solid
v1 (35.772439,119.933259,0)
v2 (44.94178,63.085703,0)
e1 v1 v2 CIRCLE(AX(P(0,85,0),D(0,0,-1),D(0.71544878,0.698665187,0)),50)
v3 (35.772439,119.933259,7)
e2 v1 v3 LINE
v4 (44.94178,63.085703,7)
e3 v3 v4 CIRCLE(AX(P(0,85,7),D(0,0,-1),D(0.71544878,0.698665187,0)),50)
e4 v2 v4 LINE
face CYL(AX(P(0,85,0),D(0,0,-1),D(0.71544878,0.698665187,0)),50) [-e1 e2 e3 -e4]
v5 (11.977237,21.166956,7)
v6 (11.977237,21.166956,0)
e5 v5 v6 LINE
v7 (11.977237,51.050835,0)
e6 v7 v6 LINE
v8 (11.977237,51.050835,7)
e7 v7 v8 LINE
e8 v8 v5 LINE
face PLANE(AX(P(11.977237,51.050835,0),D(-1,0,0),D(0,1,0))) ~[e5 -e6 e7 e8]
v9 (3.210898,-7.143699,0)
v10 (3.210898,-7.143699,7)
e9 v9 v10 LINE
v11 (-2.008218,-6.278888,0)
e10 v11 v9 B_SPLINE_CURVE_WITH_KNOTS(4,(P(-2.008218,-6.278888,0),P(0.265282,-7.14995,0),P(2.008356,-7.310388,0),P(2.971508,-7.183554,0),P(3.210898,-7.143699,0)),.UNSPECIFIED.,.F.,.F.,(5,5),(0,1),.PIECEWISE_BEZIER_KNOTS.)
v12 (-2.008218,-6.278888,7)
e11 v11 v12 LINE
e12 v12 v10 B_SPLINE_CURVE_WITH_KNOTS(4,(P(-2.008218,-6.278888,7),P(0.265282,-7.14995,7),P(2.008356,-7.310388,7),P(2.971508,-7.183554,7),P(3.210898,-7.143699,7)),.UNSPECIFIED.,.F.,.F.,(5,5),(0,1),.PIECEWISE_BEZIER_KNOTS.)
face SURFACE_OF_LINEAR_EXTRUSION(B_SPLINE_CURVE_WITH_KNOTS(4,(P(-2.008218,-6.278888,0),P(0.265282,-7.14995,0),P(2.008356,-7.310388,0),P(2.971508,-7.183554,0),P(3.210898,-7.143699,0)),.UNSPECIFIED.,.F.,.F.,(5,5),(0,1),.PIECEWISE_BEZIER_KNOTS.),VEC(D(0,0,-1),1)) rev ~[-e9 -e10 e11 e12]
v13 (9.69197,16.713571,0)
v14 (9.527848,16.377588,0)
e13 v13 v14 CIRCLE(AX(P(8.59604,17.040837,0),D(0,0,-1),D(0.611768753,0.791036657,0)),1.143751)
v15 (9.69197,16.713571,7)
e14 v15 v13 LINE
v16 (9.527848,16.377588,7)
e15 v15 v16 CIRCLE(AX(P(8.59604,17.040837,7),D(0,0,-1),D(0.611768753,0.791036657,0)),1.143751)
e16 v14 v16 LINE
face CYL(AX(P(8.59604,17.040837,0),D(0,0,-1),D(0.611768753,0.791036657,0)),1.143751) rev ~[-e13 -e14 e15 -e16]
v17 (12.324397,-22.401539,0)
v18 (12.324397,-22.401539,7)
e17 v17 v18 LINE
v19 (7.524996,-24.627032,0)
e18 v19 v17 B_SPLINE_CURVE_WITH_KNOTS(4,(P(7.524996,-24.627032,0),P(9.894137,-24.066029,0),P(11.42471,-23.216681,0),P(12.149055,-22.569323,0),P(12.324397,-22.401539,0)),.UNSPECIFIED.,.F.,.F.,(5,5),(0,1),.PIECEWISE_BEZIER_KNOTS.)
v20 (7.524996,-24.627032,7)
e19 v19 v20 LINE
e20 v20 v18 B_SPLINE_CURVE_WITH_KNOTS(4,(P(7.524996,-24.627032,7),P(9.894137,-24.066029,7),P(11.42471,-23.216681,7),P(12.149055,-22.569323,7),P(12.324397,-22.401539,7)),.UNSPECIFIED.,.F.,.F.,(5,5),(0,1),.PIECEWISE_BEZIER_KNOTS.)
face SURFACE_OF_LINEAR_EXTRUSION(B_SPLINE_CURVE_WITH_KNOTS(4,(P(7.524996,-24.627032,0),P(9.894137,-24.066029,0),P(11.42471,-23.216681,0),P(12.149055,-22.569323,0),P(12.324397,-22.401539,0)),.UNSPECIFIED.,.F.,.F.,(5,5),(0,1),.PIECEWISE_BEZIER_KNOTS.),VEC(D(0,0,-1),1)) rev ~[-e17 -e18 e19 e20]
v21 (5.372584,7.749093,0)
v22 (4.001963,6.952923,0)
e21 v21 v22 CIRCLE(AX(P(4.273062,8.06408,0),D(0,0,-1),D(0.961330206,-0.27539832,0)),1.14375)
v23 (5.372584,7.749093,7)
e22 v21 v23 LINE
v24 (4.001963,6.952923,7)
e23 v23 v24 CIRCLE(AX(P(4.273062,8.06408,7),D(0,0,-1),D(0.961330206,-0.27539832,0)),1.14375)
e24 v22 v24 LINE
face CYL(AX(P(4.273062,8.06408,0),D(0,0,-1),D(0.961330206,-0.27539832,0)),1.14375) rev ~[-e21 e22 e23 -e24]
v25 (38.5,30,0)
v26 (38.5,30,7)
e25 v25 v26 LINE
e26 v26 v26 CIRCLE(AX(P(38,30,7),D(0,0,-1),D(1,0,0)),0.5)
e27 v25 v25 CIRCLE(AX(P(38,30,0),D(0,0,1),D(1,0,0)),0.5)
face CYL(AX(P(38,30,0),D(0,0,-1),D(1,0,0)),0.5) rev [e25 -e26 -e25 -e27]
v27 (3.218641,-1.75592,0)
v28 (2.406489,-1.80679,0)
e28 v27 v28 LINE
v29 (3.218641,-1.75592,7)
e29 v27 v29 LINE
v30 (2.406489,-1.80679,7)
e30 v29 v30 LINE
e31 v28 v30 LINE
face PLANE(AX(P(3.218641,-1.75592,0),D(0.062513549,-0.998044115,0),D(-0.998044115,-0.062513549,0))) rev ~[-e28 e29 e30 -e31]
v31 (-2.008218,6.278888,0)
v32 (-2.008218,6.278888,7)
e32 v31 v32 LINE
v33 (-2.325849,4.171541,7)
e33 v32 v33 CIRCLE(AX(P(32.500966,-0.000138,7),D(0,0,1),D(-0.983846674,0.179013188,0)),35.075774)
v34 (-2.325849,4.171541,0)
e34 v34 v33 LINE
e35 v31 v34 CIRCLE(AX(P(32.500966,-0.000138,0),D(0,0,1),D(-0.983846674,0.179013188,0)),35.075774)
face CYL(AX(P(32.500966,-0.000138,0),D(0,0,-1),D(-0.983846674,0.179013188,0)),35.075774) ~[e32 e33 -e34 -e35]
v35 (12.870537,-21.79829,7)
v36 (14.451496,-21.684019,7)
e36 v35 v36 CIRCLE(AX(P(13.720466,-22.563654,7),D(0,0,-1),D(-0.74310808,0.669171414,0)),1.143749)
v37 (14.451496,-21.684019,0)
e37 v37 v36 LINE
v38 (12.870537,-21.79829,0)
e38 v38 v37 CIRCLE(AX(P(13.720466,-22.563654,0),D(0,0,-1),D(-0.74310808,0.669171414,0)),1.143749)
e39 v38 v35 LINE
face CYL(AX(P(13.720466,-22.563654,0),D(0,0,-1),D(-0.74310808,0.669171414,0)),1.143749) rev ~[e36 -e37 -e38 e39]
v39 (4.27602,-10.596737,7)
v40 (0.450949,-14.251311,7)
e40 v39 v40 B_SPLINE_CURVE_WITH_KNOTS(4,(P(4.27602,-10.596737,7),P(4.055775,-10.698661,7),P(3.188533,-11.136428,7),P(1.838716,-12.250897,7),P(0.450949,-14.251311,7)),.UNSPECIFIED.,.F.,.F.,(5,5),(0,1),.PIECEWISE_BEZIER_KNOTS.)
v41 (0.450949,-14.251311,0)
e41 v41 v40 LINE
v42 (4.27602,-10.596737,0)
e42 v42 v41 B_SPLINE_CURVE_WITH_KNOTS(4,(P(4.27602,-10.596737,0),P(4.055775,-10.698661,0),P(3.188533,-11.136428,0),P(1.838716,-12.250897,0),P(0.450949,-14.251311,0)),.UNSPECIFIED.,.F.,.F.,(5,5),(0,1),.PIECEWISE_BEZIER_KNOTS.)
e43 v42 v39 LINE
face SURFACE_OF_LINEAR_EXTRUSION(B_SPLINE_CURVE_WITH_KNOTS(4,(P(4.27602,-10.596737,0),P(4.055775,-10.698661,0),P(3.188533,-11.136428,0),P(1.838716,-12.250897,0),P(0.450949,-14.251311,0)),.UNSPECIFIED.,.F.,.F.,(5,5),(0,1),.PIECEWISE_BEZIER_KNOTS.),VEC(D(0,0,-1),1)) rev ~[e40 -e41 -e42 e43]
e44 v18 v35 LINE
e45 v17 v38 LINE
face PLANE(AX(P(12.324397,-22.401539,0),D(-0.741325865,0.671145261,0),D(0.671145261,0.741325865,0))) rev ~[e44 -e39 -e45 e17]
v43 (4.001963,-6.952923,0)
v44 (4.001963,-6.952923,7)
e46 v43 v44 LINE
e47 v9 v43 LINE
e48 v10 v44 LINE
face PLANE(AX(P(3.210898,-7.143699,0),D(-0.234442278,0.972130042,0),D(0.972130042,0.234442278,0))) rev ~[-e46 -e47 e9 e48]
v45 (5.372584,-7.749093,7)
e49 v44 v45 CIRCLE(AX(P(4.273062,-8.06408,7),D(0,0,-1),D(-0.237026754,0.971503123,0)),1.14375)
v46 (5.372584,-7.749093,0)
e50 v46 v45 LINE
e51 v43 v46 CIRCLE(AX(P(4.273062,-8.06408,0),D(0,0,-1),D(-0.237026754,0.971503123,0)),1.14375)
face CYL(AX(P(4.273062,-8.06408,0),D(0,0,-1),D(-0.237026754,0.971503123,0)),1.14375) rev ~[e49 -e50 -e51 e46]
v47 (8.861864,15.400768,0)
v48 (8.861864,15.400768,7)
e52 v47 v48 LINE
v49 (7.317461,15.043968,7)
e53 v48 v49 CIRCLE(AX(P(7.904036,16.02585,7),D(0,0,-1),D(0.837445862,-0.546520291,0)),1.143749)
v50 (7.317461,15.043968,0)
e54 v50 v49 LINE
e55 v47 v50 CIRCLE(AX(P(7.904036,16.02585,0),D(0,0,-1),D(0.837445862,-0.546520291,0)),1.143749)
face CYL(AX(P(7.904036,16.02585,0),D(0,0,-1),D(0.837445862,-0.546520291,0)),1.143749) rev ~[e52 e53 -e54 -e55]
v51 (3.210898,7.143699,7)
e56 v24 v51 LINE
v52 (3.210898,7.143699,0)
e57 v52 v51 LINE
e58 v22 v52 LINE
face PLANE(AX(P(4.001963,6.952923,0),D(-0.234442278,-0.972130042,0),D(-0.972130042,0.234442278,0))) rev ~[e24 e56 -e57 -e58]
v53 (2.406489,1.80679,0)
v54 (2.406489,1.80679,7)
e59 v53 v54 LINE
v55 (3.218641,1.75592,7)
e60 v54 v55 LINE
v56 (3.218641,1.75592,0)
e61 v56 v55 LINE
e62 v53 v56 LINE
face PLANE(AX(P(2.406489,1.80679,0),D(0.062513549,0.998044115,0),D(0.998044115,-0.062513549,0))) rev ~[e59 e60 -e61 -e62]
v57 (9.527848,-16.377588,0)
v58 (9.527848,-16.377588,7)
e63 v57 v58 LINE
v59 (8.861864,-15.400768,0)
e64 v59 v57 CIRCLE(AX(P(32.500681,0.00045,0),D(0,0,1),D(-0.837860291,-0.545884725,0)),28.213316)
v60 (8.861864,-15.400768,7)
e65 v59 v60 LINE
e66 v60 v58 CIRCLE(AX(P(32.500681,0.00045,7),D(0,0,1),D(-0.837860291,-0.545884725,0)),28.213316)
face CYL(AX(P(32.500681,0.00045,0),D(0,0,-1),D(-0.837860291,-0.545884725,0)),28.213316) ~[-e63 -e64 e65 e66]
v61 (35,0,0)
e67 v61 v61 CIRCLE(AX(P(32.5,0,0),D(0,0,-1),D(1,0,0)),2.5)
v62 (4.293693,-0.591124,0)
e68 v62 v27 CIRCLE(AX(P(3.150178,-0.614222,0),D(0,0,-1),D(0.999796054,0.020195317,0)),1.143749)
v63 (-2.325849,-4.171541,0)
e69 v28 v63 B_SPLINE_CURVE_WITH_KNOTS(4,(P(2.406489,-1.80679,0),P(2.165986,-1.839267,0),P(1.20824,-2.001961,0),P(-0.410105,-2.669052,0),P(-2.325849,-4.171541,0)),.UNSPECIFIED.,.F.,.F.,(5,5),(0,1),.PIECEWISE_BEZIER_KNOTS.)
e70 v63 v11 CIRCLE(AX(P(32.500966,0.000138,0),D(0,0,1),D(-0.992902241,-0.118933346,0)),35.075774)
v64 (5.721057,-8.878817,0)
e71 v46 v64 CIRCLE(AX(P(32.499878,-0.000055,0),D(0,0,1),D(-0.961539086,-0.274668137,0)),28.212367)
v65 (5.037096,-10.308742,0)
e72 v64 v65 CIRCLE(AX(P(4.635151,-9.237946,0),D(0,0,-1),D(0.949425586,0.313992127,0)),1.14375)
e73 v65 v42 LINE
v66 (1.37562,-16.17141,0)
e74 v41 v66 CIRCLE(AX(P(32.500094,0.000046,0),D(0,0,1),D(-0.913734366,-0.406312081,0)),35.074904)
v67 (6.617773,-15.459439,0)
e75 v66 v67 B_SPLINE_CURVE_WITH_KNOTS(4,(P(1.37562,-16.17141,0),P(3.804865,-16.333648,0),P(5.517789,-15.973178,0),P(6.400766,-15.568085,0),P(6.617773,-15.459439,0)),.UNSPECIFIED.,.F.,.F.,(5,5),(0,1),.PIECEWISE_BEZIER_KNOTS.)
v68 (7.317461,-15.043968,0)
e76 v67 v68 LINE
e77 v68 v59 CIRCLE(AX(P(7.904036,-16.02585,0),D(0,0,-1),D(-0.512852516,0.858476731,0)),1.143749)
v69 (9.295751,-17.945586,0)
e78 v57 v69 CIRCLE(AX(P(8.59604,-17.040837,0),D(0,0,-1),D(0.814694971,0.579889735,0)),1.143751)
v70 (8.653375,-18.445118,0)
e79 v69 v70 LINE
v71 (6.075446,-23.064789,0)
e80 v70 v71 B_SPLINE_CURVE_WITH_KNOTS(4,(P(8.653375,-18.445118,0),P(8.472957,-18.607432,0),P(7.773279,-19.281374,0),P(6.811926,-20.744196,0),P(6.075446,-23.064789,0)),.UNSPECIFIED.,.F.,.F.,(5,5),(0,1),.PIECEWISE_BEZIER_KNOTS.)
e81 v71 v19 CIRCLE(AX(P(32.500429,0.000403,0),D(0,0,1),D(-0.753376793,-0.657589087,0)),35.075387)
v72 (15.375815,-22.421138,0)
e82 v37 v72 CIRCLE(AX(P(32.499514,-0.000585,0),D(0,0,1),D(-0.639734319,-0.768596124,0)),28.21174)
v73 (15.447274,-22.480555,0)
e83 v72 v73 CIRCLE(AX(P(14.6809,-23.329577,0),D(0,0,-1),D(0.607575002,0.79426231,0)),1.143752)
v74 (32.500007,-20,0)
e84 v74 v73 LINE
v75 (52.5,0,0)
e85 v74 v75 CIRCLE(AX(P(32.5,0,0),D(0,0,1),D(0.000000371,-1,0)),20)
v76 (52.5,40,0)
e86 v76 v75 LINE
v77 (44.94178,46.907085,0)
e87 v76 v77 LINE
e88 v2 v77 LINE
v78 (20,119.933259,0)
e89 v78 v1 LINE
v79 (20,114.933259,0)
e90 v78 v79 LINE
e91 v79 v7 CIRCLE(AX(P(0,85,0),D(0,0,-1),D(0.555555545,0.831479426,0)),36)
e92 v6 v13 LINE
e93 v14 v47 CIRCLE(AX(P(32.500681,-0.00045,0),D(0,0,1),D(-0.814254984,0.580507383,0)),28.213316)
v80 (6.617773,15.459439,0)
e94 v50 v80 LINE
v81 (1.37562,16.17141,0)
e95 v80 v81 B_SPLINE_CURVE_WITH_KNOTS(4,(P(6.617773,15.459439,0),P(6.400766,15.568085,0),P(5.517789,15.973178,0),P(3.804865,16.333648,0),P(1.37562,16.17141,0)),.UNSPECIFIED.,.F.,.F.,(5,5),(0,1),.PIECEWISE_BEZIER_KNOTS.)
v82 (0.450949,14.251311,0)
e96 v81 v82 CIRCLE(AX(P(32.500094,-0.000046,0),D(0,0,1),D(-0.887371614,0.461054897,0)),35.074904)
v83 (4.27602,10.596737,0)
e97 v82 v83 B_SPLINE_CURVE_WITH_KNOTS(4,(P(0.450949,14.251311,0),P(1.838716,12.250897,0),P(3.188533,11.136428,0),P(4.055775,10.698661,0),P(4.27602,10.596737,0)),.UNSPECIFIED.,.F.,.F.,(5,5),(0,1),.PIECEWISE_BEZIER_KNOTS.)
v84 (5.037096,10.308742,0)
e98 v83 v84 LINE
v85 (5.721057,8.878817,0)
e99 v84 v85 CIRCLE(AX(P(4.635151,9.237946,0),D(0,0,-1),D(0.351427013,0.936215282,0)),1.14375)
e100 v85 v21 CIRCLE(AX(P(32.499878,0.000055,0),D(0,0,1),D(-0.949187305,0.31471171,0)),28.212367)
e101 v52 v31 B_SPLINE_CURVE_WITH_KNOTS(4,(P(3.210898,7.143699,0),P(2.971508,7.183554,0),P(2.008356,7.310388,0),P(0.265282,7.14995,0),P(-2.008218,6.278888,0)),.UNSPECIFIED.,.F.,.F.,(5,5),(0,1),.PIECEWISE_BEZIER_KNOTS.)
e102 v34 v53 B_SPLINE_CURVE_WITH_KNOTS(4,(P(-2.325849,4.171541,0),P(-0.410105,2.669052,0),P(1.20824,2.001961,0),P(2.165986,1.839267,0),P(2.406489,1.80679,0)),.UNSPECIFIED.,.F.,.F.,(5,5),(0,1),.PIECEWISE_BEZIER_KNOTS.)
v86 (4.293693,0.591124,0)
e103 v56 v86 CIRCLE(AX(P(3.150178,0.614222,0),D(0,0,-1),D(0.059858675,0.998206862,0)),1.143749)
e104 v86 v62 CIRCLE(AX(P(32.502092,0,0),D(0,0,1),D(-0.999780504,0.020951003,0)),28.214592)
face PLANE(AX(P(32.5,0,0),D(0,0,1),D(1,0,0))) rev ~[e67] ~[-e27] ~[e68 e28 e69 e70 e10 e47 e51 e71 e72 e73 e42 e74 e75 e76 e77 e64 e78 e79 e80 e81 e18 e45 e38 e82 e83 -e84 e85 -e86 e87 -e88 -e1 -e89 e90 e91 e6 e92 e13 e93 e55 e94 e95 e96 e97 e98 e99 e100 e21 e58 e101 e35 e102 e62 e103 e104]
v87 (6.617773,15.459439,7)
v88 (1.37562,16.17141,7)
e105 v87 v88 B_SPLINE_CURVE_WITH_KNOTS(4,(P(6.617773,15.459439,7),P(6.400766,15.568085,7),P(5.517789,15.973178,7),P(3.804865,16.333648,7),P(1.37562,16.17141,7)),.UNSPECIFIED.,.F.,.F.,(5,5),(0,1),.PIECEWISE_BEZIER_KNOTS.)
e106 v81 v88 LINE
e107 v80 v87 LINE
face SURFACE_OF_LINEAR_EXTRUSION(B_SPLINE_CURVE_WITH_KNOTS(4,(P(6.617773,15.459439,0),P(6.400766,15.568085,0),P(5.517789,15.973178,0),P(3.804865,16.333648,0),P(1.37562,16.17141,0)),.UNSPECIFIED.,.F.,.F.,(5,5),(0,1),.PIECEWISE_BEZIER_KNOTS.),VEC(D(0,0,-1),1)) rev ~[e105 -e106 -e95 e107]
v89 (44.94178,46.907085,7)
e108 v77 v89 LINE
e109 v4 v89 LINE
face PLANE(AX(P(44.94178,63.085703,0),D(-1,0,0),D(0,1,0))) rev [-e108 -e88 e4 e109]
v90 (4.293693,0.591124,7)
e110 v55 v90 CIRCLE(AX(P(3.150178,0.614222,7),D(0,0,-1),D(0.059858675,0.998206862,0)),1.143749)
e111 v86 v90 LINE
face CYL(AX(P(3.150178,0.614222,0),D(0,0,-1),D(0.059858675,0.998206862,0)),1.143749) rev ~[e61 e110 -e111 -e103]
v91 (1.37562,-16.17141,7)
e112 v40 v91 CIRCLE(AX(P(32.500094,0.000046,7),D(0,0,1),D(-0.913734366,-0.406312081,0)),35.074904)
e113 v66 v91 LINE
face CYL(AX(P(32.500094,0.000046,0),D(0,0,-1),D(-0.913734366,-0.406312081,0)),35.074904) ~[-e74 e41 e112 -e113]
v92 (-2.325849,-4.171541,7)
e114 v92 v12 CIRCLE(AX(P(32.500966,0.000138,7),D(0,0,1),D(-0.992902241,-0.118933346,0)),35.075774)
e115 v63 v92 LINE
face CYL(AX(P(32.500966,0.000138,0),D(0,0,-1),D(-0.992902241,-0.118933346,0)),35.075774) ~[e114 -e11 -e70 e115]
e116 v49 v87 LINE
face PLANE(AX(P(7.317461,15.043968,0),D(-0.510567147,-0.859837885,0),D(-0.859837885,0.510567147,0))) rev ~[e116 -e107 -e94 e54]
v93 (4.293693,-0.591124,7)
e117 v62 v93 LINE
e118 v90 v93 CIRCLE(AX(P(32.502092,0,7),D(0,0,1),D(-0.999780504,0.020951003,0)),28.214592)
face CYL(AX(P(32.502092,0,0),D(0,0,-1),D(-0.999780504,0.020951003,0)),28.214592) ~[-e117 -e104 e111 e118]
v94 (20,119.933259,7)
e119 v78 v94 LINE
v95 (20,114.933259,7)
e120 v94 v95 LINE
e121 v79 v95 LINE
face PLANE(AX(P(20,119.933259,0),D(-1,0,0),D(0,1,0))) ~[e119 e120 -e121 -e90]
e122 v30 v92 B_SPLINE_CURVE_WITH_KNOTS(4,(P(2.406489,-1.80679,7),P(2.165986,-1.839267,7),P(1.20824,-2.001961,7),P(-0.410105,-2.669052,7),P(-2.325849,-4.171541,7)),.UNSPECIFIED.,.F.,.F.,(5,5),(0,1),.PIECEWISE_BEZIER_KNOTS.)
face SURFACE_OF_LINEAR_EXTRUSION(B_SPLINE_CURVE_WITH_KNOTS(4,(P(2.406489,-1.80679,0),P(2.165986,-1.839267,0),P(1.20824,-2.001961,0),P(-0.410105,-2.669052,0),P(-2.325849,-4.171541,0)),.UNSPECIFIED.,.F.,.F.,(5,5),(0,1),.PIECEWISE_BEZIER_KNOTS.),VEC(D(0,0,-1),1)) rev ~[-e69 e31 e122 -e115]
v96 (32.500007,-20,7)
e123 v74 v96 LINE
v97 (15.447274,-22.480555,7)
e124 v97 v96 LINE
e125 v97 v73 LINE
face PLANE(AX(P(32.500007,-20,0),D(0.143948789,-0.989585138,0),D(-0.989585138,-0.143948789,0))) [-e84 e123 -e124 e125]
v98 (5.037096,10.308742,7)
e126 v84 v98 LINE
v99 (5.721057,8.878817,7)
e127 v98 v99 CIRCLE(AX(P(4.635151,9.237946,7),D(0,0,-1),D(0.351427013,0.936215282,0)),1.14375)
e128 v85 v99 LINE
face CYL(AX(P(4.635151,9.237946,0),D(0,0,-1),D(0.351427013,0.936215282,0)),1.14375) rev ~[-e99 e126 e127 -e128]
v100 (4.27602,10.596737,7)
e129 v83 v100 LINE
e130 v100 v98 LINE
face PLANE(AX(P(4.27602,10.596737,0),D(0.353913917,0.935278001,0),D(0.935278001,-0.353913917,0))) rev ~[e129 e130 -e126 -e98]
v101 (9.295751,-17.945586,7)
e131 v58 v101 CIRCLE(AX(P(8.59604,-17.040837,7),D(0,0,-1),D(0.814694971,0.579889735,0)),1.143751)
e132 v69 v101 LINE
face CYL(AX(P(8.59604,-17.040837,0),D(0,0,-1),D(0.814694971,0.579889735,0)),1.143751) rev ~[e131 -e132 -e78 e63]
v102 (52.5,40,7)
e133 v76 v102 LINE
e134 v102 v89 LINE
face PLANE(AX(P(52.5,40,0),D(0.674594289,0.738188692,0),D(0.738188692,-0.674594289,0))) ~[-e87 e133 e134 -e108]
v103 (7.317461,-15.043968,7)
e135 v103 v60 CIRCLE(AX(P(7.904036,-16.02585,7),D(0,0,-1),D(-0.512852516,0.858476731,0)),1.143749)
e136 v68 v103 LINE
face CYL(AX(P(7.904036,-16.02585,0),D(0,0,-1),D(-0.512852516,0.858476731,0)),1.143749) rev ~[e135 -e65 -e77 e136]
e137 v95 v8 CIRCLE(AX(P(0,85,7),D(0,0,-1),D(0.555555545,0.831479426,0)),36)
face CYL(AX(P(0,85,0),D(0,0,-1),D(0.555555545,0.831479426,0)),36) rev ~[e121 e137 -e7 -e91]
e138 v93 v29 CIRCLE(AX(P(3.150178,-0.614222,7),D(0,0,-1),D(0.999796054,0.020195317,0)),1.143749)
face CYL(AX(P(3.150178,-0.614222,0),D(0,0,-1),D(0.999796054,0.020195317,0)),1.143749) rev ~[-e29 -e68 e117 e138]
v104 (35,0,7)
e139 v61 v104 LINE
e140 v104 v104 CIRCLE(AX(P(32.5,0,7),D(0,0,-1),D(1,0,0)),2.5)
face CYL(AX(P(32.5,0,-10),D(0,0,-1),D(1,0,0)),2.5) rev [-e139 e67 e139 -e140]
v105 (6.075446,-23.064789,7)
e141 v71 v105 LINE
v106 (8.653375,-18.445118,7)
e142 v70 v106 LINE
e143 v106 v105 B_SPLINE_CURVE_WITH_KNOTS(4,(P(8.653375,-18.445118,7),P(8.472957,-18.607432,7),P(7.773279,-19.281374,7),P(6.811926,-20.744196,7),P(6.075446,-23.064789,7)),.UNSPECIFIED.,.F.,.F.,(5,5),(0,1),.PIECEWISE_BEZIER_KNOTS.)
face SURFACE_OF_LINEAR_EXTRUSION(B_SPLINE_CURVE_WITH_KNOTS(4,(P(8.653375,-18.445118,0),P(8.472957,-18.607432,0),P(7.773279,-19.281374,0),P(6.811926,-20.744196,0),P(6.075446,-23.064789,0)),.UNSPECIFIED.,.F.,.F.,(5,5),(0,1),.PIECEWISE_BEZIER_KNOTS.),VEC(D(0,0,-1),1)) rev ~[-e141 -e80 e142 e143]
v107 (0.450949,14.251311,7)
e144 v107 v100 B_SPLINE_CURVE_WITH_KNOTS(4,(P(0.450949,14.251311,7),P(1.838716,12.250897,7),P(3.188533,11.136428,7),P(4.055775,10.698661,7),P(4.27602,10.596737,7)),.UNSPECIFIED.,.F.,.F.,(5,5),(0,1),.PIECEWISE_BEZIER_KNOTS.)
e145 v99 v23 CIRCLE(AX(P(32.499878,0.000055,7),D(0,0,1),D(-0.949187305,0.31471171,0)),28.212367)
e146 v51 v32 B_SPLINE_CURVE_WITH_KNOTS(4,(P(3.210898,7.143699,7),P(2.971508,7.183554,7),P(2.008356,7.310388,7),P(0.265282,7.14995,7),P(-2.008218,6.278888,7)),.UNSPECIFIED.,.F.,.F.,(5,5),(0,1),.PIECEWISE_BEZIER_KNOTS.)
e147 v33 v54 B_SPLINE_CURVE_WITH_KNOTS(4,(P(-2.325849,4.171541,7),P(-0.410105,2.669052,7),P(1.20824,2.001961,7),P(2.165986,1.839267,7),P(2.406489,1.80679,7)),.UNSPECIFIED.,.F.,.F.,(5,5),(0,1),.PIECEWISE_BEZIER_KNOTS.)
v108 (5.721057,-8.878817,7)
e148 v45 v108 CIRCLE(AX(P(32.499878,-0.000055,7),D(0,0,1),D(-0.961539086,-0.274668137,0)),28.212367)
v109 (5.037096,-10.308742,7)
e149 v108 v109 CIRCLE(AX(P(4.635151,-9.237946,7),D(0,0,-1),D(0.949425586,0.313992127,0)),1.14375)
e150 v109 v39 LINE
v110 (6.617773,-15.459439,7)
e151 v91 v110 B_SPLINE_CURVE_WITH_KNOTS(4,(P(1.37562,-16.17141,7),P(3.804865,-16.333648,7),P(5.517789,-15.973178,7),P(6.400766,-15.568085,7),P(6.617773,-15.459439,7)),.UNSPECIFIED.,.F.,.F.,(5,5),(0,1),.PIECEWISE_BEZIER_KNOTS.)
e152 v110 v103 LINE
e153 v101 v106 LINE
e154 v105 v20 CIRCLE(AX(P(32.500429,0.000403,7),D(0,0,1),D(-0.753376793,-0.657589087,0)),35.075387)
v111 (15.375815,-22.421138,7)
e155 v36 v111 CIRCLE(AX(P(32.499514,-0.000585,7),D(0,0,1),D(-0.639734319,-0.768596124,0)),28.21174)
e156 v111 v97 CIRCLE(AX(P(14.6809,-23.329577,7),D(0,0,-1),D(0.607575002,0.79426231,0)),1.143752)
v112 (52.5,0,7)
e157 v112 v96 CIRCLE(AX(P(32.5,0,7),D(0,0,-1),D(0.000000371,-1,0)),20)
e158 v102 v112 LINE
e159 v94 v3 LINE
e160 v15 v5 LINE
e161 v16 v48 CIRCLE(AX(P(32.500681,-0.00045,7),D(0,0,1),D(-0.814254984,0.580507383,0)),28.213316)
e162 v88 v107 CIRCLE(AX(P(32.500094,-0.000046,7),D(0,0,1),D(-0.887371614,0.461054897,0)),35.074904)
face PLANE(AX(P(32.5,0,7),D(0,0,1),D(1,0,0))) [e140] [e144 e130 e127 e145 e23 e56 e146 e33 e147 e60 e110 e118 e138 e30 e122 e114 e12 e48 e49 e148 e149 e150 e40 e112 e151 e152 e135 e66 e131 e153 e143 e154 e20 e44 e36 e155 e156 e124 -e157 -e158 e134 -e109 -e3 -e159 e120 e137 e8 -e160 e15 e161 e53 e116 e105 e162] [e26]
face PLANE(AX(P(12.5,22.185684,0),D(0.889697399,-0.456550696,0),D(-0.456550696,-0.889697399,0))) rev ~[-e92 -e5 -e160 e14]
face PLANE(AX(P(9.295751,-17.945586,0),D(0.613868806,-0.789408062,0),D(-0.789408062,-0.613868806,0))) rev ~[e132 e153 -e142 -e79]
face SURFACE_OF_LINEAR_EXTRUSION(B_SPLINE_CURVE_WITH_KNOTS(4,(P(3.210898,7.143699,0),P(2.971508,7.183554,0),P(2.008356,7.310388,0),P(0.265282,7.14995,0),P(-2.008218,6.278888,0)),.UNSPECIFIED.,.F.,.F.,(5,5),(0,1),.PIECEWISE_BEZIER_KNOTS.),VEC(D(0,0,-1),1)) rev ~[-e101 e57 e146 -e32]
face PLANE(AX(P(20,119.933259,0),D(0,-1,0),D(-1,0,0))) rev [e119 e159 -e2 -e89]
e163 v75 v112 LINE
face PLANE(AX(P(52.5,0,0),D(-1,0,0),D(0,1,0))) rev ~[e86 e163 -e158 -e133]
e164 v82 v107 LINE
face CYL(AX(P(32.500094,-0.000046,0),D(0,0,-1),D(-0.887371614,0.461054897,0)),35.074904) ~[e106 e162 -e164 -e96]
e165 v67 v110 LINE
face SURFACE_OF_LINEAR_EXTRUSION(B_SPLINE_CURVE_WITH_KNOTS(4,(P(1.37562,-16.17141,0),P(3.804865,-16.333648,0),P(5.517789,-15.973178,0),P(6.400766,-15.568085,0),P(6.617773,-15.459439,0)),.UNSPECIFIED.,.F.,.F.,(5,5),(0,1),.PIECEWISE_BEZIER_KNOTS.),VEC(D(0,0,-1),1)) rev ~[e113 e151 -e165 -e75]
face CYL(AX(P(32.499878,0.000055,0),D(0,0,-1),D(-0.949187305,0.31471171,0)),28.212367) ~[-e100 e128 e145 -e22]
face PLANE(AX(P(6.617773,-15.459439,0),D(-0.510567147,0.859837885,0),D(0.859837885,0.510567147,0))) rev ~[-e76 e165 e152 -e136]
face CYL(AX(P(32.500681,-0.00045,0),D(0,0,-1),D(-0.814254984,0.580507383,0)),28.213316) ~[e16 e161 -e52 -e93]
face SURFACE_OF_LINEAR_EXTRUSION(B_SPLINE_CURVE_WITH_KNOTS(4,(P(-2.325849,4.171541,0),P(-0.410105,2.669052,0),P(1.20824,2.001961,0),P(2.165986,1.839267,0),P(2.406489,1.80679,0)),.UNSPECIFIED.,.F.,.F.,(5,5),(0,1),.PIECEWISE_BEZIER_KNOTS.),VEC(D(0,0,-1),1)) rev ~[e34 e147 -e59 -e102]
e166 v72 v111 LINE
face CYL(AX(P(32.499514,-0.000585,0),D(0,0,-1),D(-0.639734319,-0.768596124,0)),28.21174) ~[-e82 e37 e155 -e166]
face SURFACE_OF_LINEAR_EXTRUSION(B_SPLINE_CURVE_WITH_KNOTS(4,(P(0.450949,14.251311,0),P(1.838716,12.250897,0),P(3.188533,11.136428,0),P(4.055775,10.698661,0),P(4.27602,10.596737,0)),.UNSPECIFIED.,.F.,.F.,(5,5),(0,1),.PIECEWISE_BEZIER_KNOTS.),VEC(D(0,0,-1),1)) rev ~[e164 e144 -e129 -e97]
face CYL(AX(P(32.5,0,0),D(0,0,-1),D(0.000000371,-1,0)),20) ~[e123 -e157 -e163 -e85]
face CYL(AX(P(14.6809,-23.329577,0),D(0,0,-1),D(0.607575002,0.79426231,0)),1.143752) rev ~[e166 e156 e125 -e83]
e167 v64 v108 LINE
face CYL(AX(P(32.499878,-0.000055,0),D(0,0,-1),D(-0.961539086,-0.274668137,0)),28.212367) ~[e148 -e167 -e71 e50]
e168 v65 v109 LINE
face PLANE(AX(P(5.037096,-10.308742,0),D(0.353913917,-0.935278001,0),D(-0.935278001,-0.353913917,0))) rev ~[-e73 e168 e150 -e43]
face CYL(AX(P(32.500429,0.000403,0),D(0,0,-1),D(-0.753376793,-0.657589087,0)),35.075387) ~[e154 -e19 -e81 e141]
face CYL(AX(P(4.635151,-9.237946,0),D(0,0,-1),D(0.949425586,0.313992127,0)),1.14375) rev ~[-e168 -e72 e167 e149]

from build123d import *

# Parameters (mm, degrees)
CYLINDER002_R     = 0.5
CYLINDER002_DEPTH = 15
PAD005_DEPTH      = 10
CYLINDER001_R     = 2.5
CYLINDER001_DEPTH = 30
PAD_DEPTH         = 7
PAD001_DEPTH      = 7


with BuildPart() as fixation_servo:
    # Cylinder002 → Cylinder002 (new body)
    with BuildSketch(Plane(origin=(38, 30, 0), x_dir=(1, 0, 0), z_dir=(0, 0, 1))):
        Circle(CYLINDER002_R)
    extrude(amount=CYLINDER002_DEPTH)


with BuildPart() as gearcutter_d:
    # Sketch007 → Pad005 (new body)
    with BuildSketch(Plane.XY):
        with BuildLine():
            Line((20, 31.95888), (45.304215, 31.95888))
            Line((45.304215, 31.95888), (45.304215, -33.652056))
            Line((45.304215, -33.652056), (23.213182, -33.652056))
            Line((-17.372387, -39.01239), (23.213182, -33.652056))
            Line((-25.984375, -33.578197), (-17.372387, -39.01239))
            Line((-17.23691, -22.507347), (-25.984375, -33.578197))
            Line((7e-06, -20), (-17.23691, -22.507347))
            ThreePointArc((7e-06, -20), (14.142138, -14.142133), (20, 0))
            Line((20, 0), (20, 31.95888))
        make_face()
        Polygon((-20, 22.185684), (-22.978563, 16.381247), (-30, 23.81991), (-24.00174, 30), align=None)
    extrude(amount=PAD005_DEPTH)


with BuildPart() as hole:
    # Cylinder001 → Cylinder001 (new body)
    with BuildSketch(Plane.XY.offset(-10)):
        Circle(CYLINDER001_R)
    extrude(amount=CYLINDER001_DEPTH)


with BuildPart() as cut002:
    # InvoluteGear → Pad (new body)
    with BuildSketch(Plane.XY):
        with BuildLine():
            Line((29.216017, -2.627852), (30.02668, -2.698596))
            add(Edge.make_bspline(
                [(30.02668, -2.698596), (30.269336, -2.702327), (31.240634, -2.684194), (32.940327, -2.265756), (35.058609, -1.065575)],
                knots=[0, 0, 0, 0, 0, 1, 1, 1, 1, 1], degree=4))
            ThreePointArc((35.058609, -1.065575), (35.074799, 0), (35.058609, 1.065575))
            add(Edge.make_bspline(
                [(35.058609, 1.065575), (32.940327, 2.265756), (31.240634, 2.684194), (30.269336, 2.702327), (30.02668, 2.698596)],
                knots=[0, 0, 0, 0, 0, 1, 1, 1, 1, 1], degree=4))
            Line((30.02668, 2.698596), (29.216017, 2.627852))
            ThreePointArc((29.216017, 2.627852), (28.398075, 2.874673), (27.979368, 3.61941))
            ThreePointArc((27.979368, 3.61941), (27.89739, 4.204855), (27.803163, 4.788454))
            ThreePointArc((27.803163, 4.788454), (27.983753, 5.62352), (28.692604, 6.100468))
            Line((28.692604, 6.100468), (29.488104, 6.271815))
            add(Edge.make_bspline(
                [(29.488104, 6.271815), (29.72108, 6.339774), (30.64388, 6.643396), (32.144724, 7.544237), (33.815137, 9.315472)],
                knots=[0, 0, 0, 0, 0, 1, 1, 1, 1, 1], degree=4))
            ThreePointArc((33.815137, 9.315472), (33.516524, 10.338478), (33.18697, 11.351941))
            add(Edge.make_bspline(
                [(33.18697, 11.351941), (30.809038, 11.874427), (29.06152, 11.773281), (28.12803, 11.504313), (27.897254, 11.429224)],
                knots=[0, 0, 0, 0, 0, 1, 1, 1, 1, 1], degree=4))
            Line((27.897254, 11.429224), (27.143458, 11.122676))
            ThreePointArc((27.143458, 11.122676), (26.289104, 11.117439), (25.669483, 11.705673))
            ThreePointArc((25.669483, 11.705673), (25.418584, 12.240945), (25.156525, 12.770842))
            ThreePointArc((25.156525, 12.770842), (25.082952, 13.622039), (25.619728, 14.286735))
            Line((25.619728, 14.286735), (26.32938, 14.684947))
            add(Edge.make_bspline(
                [(26.32938, 14.684947), (26.531974, 14.818557), (27.324283, 15.380691), (28.492921, 16.683892), (29.567042, 18.868799)],
                knots=[0, 0, 0, 0, 0, 1, 1, 1, 1, 1], degree=4))
            ThreePointArc((29.567042, 18.868799), (28.980159, 19.758338), (28.366523, 20.629637))
            add(Edge.make_bspline(
                [(28.366523, 20.629637), (25.94023, 20.428003), (24.300163, 19.816261), (23.487425, 19.284092), (23.289034, 19.144315)],
                knots=[0, 0, 0, 0, 0, 1, 1, 1, 1, 1], degree=4))
            Line((23.289034, 19.144315), (22.659084, 18.629202))
            ThreePointArc((22.659084, 18.629202), (21.84423, 18.372372), (21.078752, 18.751836))
            ThreePointArc((21.078752, 18.751836), (20.681226, 19.189373), (20.274619, 19.618485))
            ThreePointArc((20.274619, 19.618485), (19.95342, 20.41018), (20.270426, 21.203563))
            Line((20.270426, 21.203563), (20.831176, 21.793257))
            add(Edge.make_bspline(
                [(20.831176, 21.793257), (20.985387, 21.980647), (21.576804, 22.751344), (22.309397, 24.341109), (22.691785, 26.745549)],
                knots=[0, 0, 0, 0, 0, 1, 1, 1, 1, 1], degree=4))
            ThreePointArc((22.691785, 26.745549), (21.868779, 27.422582), (21.025585, 28.074299))
            add(Edge.make_bspline(
                [(21.025585, 28.074299), (18.766519, 27.166461), (17.37963, 26.098479), (16.759858, 25.350393), (16.611482, 25.15835)],
                knots=[0, 0, 0, 0, 0, 1, 1, 1, 1, 1], degree=4))
            Line((16.611482, 25.15835), (16.161351, 24.480441))
            ThreePointArc((16.161351, 24.480441), (15.4584, 23.994839), (14.615082, 24.131816))
            ThreePointArc((14.615082, 24.131816), (14.10625, 24.432742), (13.591225, 24.72294))
            ThreePointArc((13.591225, 24.72294), (13.05094, 25.384787), (13.120008, 26.236361))
            Line((13.120008, 26.236361), (13.48203, 26.96514))
            add(Edge.make_bspline(
                [(13.48203, 26.96514), (13.574155, 27.18966), (13.912131, 28.10044), (14.143586, 29.835512), (13.800264, 32.245841)],
                knots=[0, 0, 0, 0, 0, 1, 1, 1, 1, 1], degree=4))
            ThreePointArc((13.800264, 32.245841), (12.814263, 32.65021), (11.816433, 33.024437))
            add(Edge.make_bspline(
                [(11.816433, 33.024437), (9.92532, 31.49106), (8.91484, 30.061732), (8.543105, 29.164202), (8.457926, 28.936956)],
                knots=[0, 0, 0, 0, 0, 1, 1, 1, 1, 1], degree=4))
            Line((8.457926, 28.936956), (8.227611, 28.156485))
            ThreePointArc((8.227611, 28.156485), (7.699024, 27.485259), (6.852797, 27.367578))
            ThreePointArc((6.852797, 27.367578), (6.277872, 27.505154), (5.70019, 27.630653))
            ThreePointArc((5.70019, 27.630653), (4.988826, 28.103844), (4.80382, 28.937943))
            Line((4.80382, 28.937943), (4.934946, 29.741053))
            add(Edge.make_bspline(
                [(4.934946, 29.741053), (4.956801, 29.982752), (5.011304, 30.952689), (4.721054, 32.678899), (3.682528, 34.880948)],
                knots=[0, 0, 0, 0, 0, 1, 1, 1, 1, 1], degree=4))
            ThreePointArc((3.682528, 34.880948), (2.621143, 34.976723), (1.557338, 35.040209))
            add(Edge.make_bspline(
                [(1.557338, 35.040209), (0.202213, 33.01754), (-0.342073, 31.353869), (-0.43274, 30.386642), (-0.447153, 30.144385)],
                knots=[0, 0, 0, 0, 0, 1, 1, 1, 1, 1], degree=4))
            Line((-0.447153, 30.144385), (-0.437188, 29.330703))
            ThreePointArc((-0.437188, 29.330703), (-0.744444, 28.533493), (-1.518389, 28.171611))
            ThreePointArc((-1.518389, 28.171611), (-2.108323, 28.133612), (-2.697331, 28.083261))
            ThreePointArc((-2.697331, 28.083261), (-3.516567, 28.325751), (-3.939209, 29.068262))
            Line((-3.939209, 29.068262), (-4.050629, 29.874342))
            add(Edge.make_bspline(
                [(-4.050629, 29.874342), (-4.100987, 30.111745), (-4.3348, 31.054656), (-5.120964, 32.618623), (-6.762416, 34.416729)],
                knots=[0, 0, 0, 0, 0, 1, 1, 1, 1, 1], degree=4))
            ThreePointArc((-6.762416, 34.416729), (-7.804877, 34.195401), (-8.840133, 33.942504))
            add(Edge.make_bspline(
                [(-8.840133, 33.942504), (-9.538861, 31.610267), (-9.56859, 29.860077), (-9.370135, 28.909097), (-9.312501, 28.673354)],
                knots=[0, 0, 0, 0, 0, 1, 1, 1, 1, 1], degree=4))
            Line((-9.312501, 28.673354), (-9.063142, 27.898758))
            ThreePointArc((-9.063142, 27.898758), (-9.121765, 27.046401), (-9.754659, 26.472472))
            ThreePointArc((-9.754659, 26.472472), (-10.307184, 26.262276), (-10.855183, 26.040548))
            ThreePointArc((-10.855183, 26.040548), (-11.709498, 26.030791), (-12.332222, 26.615739))
            Line((-12.332222, 26.615739), (-12.676288, 27.353165))
            add(Edge.make_bspline(
                [(-12.676288, 27.353165), (-12.794385, 27.565178), (-13.295737, 28.39728), (-14.507962, 29.660038), (-16.60649, 30.894434)],
                knots=[0, 0, 0, 0, 0, 1, 1, 1, 1, 1], degree=4))
            ThreePointArc((-16.60649, 30.894434), (-17.537399, 30.375667), (-18.452119, 29.828859))
            add(Edge.make_bspline(
                [(-18.452119, 29.828859), (-18.432366, 27.394282), (-17.944897, 25.713086), (-17.474952, 24.862851), (-17.350392, 24.65457)],
                knots=[0, 0, 0, 0, 0, 1, 1, 1, 1, 1], degree=4))
            Line((-17.350392, 24.65457), (-16.883795, 23.987887))
            ThreePointArc((-16.883795, 23.987887), (-16.688578, 23.156118), (-17.124185, 22.421138))
            ThreePointArc((-17.124185, 22.421138), (-17.590206, 22.057421), (-18.048504, 21.684019))
            ThreePointArc((-18.048504, 21.684019), (-18.861988, 21.422881), (-19.629463, 21.79829))
            Line((-19.629463, 21.79829), (-20.175603, 22.401539))
            add(Edge.make_bspline(
                [(-20.175603, 22.401539), (-20.350945, 22.569323), (-21.07529, 23.216681), (-22.605863, 24.066029), (-24.975004, 24.627032)],
                knots=[0, 0, 0, 0, 0, 1, 1, 1, 1, 1], degree=4))
            ThreePointArc((-24.975004, 24.627032), (-25.711647, 23.856922), (-26.424554, 23.064789))
            add(Edge.make_bspline(
                [(-26.424554, 23.064789), (-25.688074, 20.744196), (-24.726721, 19.281374), (-24.027043, 18.607432), (-23.846625, 18.445118)],
                knots=[0, 0, 0, 0, 0, 1, 1, 1, 1, 1], degree=4))
            Line((-23.846625, 18.445118), (-23.204249, 17.945586))
            ThreePointArc((-23.204249, 17.945586), (-22.772537, 17.208312), (-22.972152, 16.377588))
            ThreePointArc((-22.972152, 16.377588), (-23.310261, 15.892667), (-23.638136, 15.400768))
            ThreePointArc((-23.638136, 15.400768), (-24.338508, 14.911454), (-25.182539, 15.043968))
            Line((-25.182539, 15.043968), (-25.882227, 15.459439))
            add(Edge.make_bspline(
                [(-25.882227, 15.459439), (-26.099234, 15.568085), (-26.982211, 15.973178), (-28.695135, 16.333648), (-31.12438, 16.17141)],
                knots=[0, 0, 0, 0, 0, 1, 1, 1, 1, 1], degree=4))
            ThreePointArc((-31.12438, 16.17141), (-31.601302, 15.218385), (-32.049051, 14.251311))
            add(Edge.make_bspline(
                [(-32.049051, 14.251311), (-30.661284, 12.250897), (-29.311467, 11.136428), (-28.444225, 10.698661), (-28.22398, 10.596737)],
                knots=[0, 0, 0, 0, 0, 1, 1, 1, 1, 1], degree=4))
            Line((-28.22398, 10.596737), (-27.462904, 10.308742))
            ThreePointArc((-27.462904, 10.308742), (-26.833056, 9.731472), (-26.778943, 8.878817))
            ThreePointArc((-26.778943, 8.878817), (-26.959098, 8.31578), (-27.127416, 7.749093))
            ThreePointArc((-27.127416, 7.749093), (-27.652445, 7.075079), (-28.498037, 6.952923))
            Line((-28.498037, 6.952923), (-29.289102, 7.143699))
            add(Edge.make_bspline(
                [(-29.289102, 7.143699), (-29.528492, 7.183554), (-30.491644, 7.310388), (-32.234718, 7.14995), (-34.508218, 6.278888)],
                knots=[0, 0, 0, 0, 0, 1, 1, 1, 1, 1], degree=4))
            ThreePointArc((-34.508218, 6.278888), (-34.683042, 5.227628), (-34.825849, 4.171541))
            add(Edge.make_bspline(
                [(-34.825849, 4.171541), (-32.910105, 2.669052), (-31.29176, 2.001961), (-30.334014, 1.839267), (-30.093511, 1.80679)],
                knots=[0, 0, 0, 0, 0, 1, 1, 1, 1, 1], degree=4))
            Line((-30.093511, 1.80679), (-29.281359, 1.75592))
            ThreePointArc((-29.281359, 1.75592), (-28.50934, 1.389948), (-28.206307, 0.591124))
            ThreePointArc((-28.206307, 0.591124), (-28.2125, 0), (-28.206307, -0.591124))
            ThreePointArc((-28.206307, -0.591124), (-28.50934, -1.389948), (-29.281359, -1.75592))
            Line((-29.281359, -1.75592), (-30.093511, -1.80679))
            add(Edge.make_bspline(
                [(-30.093511, -1.80679), (-30.334014, -1.839267), (-31.29176, -2.001961), (-32.910105, -2.669052), (-34.825849, -4.171541)],
                knots=[0, 0, 0, 0, 0, 1, 1, 1, 1, 1], degree=4))
            ThreePointArc((-34.825849, -4.171541), (-34.683042, -5.227628), (-34.508218, -6.278888))
            add(Edge.make_bspline(
                [(-34.508218, -6.278888), (-32.234718, -7.14995), (-30.491644, -7.310388), (-29.528492, -7.183554), (-29.289102, -7.143699)],
                knots=[0, 0, 0, 0, 0, 1, 1, 1, 1, 1], degree=4))
            Line((-29.289102, -7.143699), (-28.498037, -6.952923))
            ThreePointArc((-28.498037, -6.952923), (-27.652445, -7.075079), (-27.127416, -7.749093))
            ThreePointArc((-27.127416, -7.749093), (-26.959098, -8.31578), (-26.778943, -8.878817))
            ThreePointArc((-26.778943, -8.878817), (-26.833056, -9.731472), (-27.462904, -10.308742))
            Line((-27.462904, -10.308742), (-28.22398, -10.596737))
            add(Edge.make_bspline(
                [(-28.22398, -10.596737), (-28.444225, -10.698661), (-29.311467, -11.136428), (-30.661284, -12.250897), (-32.049051, -14.251311)],
                knots=[0, 0, 0, 0, 0, 1, 1, 1, 1, 1], degree=4))
            ThreePointArc((-32.049051, -14.251311), (-31.601302, -15.218385), (-31.12438, -16.17141))
            add(Edge.make_bspline(
                [(-31.12438, -16.17141), (-28.695135, -16.333648), (-26.982211, -15.973178), (-26.099234, -15.568085), (-25.882227, -15.459439)],
                knots=[0, 0, 0, 0, 0, 1, 1, 1, 1, 1], degree=4))
            Line((-25.882227, -15.459439), (-25.182539, -15.043968))
            ThreePointArc((-25.182539, -15.043968), (-24.338508, -14.911454), (-23.638136, -15.400768))
            ThreePointArc((-23.638136, -15.400768), (-23.310261, -15.892667), (-22.972152, -16.377588))
            ThreePointArc((-22.972152, -16.377588), (-22.772537, -17.208312), (-23.204249, -17.945586))
            Line((-23.204249, -17.945586), (-23.846625, -18.445118))
            add(Edge.make_bspline(
                [(-23.846625, -18.445118), (-24.027043, -18.607432), (-24.726721, -19.281374), (-25.688074, -20.744196), (-26.424554, -23.064789)],
                knots=[0, 0, 0, 0, 0, 1, 1, 1, 1, 1], degree=4))
            ThreePointArc((-26.424554, -23.064789), (-25.711647, -23.856922), (-24.975004, -24.627032))
            add(Edge.make_bspline(
                [(-24.975004, -24.627032), (-22.605863, -24.066029), (-21.07529, -23.216681), (-20.350945, -22.569323), (-20.175603, -22.401539)],
                knots=[0, 0, 0, 0, 0, 1, 1, 1, 1, 1], degree=4))
            Line((-20.175603, -22.401539), (-19.629463, -21.79829))
            ThreePointArc((-19.629463, -21.79829), (-18.861988, -21.422881), (-18.048504, -21.684019))
            ThreePointArc((-18.048504, -21.684019), (-17.590206, -22.057421), (-17.124185, -22.421138))
            ThreePointArc((-17.124185, -22.421138), (-16.688578, -23.156118), (-16.883795, -23.987887))
            Line((-16.883795, -23.987887), (-17.350392, -24.65457))
            add(Edge.make_bspline(
                [(-17.350392, -24.65457), (-17.474952, -24.862851), (-17.944897, -25.713086), (-18.432366, -27.394282), (-18.452119, -29.828859)],
                knots=[0, 0, 0, 0, 0, 1, 1, 1, 1, 1], degree=4))
            ThreePointArc((-18.452119, -29.828859), (-17.537399, -30.375667), (-16.60649, -30.894434))
            add(Edge.make_bspline(
                [(-16.60649, -30.894434), (-14.507962, -29.660038), (-13.295737, -28.39728), (-12.794385, -27.565178), (-12.676288, -27.353165)],
                knots=[0, 0, 0, 0, 0, 1, 1, 1, 1, 1], degree=4))
            Line((-12.676288, -27.353165), (-12.332222, -26.615739))
            ThreePointArc((-12.332222, -26.615739), (-11.709498, -26.030791), (-10.855183, -26.040548))
            ThreePointArc((-10.855183, -26.040548), (-10.307184, -26.262276), (-9.754659, -26.472472))
            ThreePointArc((-9.754659, -26.472472), (-9.121765, -27.046401), (-9.063142, -27.898758))
            Line((-9.063142, -27.898758), (-9.312501, -28.673354))
            add(Edge.make_bspline(
                [(-9.312501, -28.673354), (-9.370135, -28.909097), (-9.56859, -29.860077), (-9.538861, -31.610267), (-8.840133, -33.942504)],
                knots=[0, 0, 0, 0, 0, 1, 1, 1, 1, 1], degree=4))
            ThreePointArc((-8.840133, -33.942504), (-7.804877, -34.195401), (-6.762416, -34.416729))
            add(Edge.make_bspline(
                [(-6.762416, -34.416729), (-5.120964, -32.618623), (-4.3348, -31.054656), (-4.100987, -30.111745), (-4.050629, -29.874342)],
                knots=[0, 0, 0, 0, 0, 1, 1, 1, 1, 1], degree=4))
            Line((-4.050629, -29.874342), (-3.939209, -29.068262))
            ThreePointArc((-3.939209, -29.068262), (-3.516567, -28.325751), (-2.697331, -28.083261))
            ThreePointArc((-2.697331, -28.083261), (-2.108323, -28.133612), (-1.518389, -28.171611))
            ThreePointArc((-1.518389, -28.171611), (-0.744444, -28.533493), (-0.437188, -29.330703))
            Line((-0.437188, -29.330703), (-0.447153, -30.144385))
            add(Edge.make_bspline(
                [(-0.447153, -30.144385), (-0.43274, -30.386642), (-0.342073, -31.353869), (0.202213, -33.01754), (1.557338, -35.040209)],
                knots=[0, 0, 0, 0, 0, 1, 1, 1, 1, 1], degree=4))
            ThreePointArc((1.557338, -35.040209), (2.621143, -34.976723), (3.682528, -34.880948))
            add(Edge.make_bspline(
                [(3.682528, -34.880948), (4.721054, -32.678899), (5.011304, -30.952689), (4.956801, -29.982752), (4.934946, -29.741053)],
                knots=[0, 0, 0, 0, 0, 1, 1, 1, 1, 1], degree=4))
            Line((4.934946, -29.741053), (4.80382, -28.937943))
            ThreePointArc((4.80382, -28.937943), (4.988826, -28.103844), (5.70019, -27.630653))
            ThreePointArc((5.70019, -27.630653), (6.277872, -27.505154), (6.852797, -27.367578))
            ThreePointArc((6.852797, -27.367578), (7.699024, -27.485259), (8.227611, -28.156485))
            Line((8.227611, -28.156485), (8.457926, -28.936956))
            add(Edge.make_bspline(
                [(8.457926, -28.936956), (8.543105, -29.164202), (8.91484, -30.061732), (9.92532, -31.49106), (11.816433, -33.024437)],
                knots=[0, 0, 0, 0, 0, 1, 1, 1, 1, 1], degree=4))
            ThreePointArc((11.816433, -33.024437), (12.814263, -32.65021), (13.800264, -32.245841))
            add(Edge.make_bspline(
                [(13.800264, -32.245841), (14.143586, -29.835512), (13.912131, -28.10044), (13.574155, -27.18966), (13.48203, -26.96514)],
                knots=[0, 0, 0, 0, 0, 1, 1, 1, 1, 1], degree=4))
            Line((13.48203, -26.96514), (13.120008, -26.236361))
            ThreePointArc((13.120008, -26.236361), (13.05094, -25.384787), (13.591225, -24.72294))
            ThreePointArc((13.591225, -24.72294), (14.10625, -24.432742), (14.615082, -24.131816))
            ThreePointArc((14.615082, -24.131816), (15.4584, -23.994839), (16.161351, -24.480441))
            Line((16.161351, -24.480441), (16.611482, -25.15835))
            add(Edge.make_bspline(
                [(16.611482, -25.15835), (16.759858, -25.350393), (17.37963, -26.098479), (18.766519, -27.166461), (21.025585, -28.074299)],
                knots=[0, 0, 0, 0, 0, 1, 1, 1, 1, 1], degree=4))
            ThreePointArc((21.025585, -28.074299), (21.868779, -27.422582), (22.691785, -26.745549))
            add(Edge.make_bspline(
                [(22.691785, -26.745549), (22.309397, -24.341109), (21.576804, -22.751344), (20.985387, -21.980647), (20.831176, -21.793257)],
                knots=[0, 0, 0, 0, 0, 1, 1, 1, 1, 1], degree=4))
            Line((20.831176, -21.793257), (20.270426, -21.203563))
            ThreePointArc((20.270426, -21.203563), (19.95342, -20.41018), (20.274619, -19.618485))
            ThreePointArc((20.274619, -19.618485), (20.681226, -19.189373), (21.078752, -18.751836))
            ThreePointArc((21.078752, -18.751836), (21.84423, -18.372372), (22.659084, -18.629202))
            Line((22.659084, -18.629202), (23.289034, -19.144315))
            add(Edge.make_bspline(
                [(23.289034, -19.144315), (23.487425, -19.284092), (24.300163, -19.816261), (25.94023, -20.428003), (28.366523, -20.629637)],
                knots=[0, 0, 0, 0, 0, 1, 1, 1, 1, 1], degree=4))
            ThreePointArc((28.366523, -20.629637), (28.980159, -19.758338), (29.567042, -18.868799))
            add(Edge.make_bspline(
                [(29.567042, -18.868799), (28.492921, -16.683892), (27.324283, -15.380691), (26.531974, -14.818557), (26.32938, -14.684947)],
                knots=[0, 0, 0, 0, 0, 1, 1, 1, 1, 1], degree=4))
            Line((26.32938, -14.684947), (25.619728, -14.286735))
            ThreePointArc((25.619728, -14.286735), (25.082952, -13.622039), (25.156525, -12.770842))
            ThreePointArc((25.156525, -12.770842), (25.418584, -12.240945), (25.669483, -11.705673))
            ThreePointArc((25.669483, -11.705673), (26.289104, -11.117439), (27.143458, -11.122676))
            Line((27.143458, -11.122676), (27.897254, -11.429224))
            add(Edge.make_bspline(
                [(27.897254, -11.429224), (28.12803, -11.504313), (29.06152, -11.773281), (30.809038, -11.874427), (33.18697, -11.351941)],
                knots=[0, 0, 0, 0, 0, 1, 1, 1, 1, 1], degree=4))
            ThreePointArc((33.18697, -11.351941), (33.516524, -10.338478), (33.815137, -9.315472))
            add(Edge.make_bspline(
                [(33.815137, -9.315472), (32.144724, -7.544237), (30.64388, -6.643396), (29.72108, -6.339774), (29.488104, -6.271815)],
                knots=[0, 0, 0, 0, 0, 1, 1, 1, 1, 1], degree=4))
            Line((29.488104, -6.271815), (28.692604, -6.100468))
            ThreePointArc((28.692604, -6.100468), (27.983753, -5.62352), (27.803163, -4.788454))
            ThreePointArc((27.803163, -4.788454), (27.89739, -4.204855), (27.979368, -3.61941))
            ThreePointArc((27.979368, -3.61941), (28.398075, -2.874673), (29.216017, -2.627852))
        make_face()
    extrude(amount=PAD_DEPTH)

    # Cut: cut hole
    add(hole.part, mode=Mode.SUBTRACT)

    # Cut002: cut gearcutter_d
    add(gearcutter_d.part, mode=Mode.SUBTRACT)


with BuildPart() as clone_of_pad002:
    # Sketch001 → Pad001 (new body)
    with BuildSketch(Plane.XY):
        with BuildLine():
            Line((20.522763, 10), (-20, 10))
            Line((-20, 10), (-20, 40))
            Line((-20, 40), (-12.44178, 46.907085))
            Line((-12.44178, 63.085703), (-12.44178, 46.907085))
            ThreePointArc((-3.272439, 119.933259), (-16.862004, 92.961944), (-12.44178, 63.085703))
            Line((12.5, 119.933259), (-3.272439, 119.933259))
            Line((12.5, 119.933259), (12.5, 114.933259))
            ThreePointArc((12.5, 114.933259), (-3.21942, 80.514127), (20.522763, 51.050835))
            Line((20.522763, 51.050835), (20.522763, 10))
        make_face()
    extrude(amount=PAD001_DEPTH)


with BuildPart() as pince_d_servo:
    # Part__Mirroring: instance of Clone of Pad002
    add(clone_of_pad002.part.mirror(Plane(origin=(0, 0, 0), x_dir=(0, -1, 0), z_dir=(1, 0, 0))))

    # Fusion001: union Cut002
    add(cut002.part)


with BuildPart() as pince_d_servo_1:
    # Clone013 placement: moved
    add(pince_d_servo.part.moved(Location((32.5, 0, 0))))

    # Cut006: cut fixation_servo
    add(fixation_servo.part, mode=Mode.SUBTRACT)


solid = pince_d_servo_1.part
